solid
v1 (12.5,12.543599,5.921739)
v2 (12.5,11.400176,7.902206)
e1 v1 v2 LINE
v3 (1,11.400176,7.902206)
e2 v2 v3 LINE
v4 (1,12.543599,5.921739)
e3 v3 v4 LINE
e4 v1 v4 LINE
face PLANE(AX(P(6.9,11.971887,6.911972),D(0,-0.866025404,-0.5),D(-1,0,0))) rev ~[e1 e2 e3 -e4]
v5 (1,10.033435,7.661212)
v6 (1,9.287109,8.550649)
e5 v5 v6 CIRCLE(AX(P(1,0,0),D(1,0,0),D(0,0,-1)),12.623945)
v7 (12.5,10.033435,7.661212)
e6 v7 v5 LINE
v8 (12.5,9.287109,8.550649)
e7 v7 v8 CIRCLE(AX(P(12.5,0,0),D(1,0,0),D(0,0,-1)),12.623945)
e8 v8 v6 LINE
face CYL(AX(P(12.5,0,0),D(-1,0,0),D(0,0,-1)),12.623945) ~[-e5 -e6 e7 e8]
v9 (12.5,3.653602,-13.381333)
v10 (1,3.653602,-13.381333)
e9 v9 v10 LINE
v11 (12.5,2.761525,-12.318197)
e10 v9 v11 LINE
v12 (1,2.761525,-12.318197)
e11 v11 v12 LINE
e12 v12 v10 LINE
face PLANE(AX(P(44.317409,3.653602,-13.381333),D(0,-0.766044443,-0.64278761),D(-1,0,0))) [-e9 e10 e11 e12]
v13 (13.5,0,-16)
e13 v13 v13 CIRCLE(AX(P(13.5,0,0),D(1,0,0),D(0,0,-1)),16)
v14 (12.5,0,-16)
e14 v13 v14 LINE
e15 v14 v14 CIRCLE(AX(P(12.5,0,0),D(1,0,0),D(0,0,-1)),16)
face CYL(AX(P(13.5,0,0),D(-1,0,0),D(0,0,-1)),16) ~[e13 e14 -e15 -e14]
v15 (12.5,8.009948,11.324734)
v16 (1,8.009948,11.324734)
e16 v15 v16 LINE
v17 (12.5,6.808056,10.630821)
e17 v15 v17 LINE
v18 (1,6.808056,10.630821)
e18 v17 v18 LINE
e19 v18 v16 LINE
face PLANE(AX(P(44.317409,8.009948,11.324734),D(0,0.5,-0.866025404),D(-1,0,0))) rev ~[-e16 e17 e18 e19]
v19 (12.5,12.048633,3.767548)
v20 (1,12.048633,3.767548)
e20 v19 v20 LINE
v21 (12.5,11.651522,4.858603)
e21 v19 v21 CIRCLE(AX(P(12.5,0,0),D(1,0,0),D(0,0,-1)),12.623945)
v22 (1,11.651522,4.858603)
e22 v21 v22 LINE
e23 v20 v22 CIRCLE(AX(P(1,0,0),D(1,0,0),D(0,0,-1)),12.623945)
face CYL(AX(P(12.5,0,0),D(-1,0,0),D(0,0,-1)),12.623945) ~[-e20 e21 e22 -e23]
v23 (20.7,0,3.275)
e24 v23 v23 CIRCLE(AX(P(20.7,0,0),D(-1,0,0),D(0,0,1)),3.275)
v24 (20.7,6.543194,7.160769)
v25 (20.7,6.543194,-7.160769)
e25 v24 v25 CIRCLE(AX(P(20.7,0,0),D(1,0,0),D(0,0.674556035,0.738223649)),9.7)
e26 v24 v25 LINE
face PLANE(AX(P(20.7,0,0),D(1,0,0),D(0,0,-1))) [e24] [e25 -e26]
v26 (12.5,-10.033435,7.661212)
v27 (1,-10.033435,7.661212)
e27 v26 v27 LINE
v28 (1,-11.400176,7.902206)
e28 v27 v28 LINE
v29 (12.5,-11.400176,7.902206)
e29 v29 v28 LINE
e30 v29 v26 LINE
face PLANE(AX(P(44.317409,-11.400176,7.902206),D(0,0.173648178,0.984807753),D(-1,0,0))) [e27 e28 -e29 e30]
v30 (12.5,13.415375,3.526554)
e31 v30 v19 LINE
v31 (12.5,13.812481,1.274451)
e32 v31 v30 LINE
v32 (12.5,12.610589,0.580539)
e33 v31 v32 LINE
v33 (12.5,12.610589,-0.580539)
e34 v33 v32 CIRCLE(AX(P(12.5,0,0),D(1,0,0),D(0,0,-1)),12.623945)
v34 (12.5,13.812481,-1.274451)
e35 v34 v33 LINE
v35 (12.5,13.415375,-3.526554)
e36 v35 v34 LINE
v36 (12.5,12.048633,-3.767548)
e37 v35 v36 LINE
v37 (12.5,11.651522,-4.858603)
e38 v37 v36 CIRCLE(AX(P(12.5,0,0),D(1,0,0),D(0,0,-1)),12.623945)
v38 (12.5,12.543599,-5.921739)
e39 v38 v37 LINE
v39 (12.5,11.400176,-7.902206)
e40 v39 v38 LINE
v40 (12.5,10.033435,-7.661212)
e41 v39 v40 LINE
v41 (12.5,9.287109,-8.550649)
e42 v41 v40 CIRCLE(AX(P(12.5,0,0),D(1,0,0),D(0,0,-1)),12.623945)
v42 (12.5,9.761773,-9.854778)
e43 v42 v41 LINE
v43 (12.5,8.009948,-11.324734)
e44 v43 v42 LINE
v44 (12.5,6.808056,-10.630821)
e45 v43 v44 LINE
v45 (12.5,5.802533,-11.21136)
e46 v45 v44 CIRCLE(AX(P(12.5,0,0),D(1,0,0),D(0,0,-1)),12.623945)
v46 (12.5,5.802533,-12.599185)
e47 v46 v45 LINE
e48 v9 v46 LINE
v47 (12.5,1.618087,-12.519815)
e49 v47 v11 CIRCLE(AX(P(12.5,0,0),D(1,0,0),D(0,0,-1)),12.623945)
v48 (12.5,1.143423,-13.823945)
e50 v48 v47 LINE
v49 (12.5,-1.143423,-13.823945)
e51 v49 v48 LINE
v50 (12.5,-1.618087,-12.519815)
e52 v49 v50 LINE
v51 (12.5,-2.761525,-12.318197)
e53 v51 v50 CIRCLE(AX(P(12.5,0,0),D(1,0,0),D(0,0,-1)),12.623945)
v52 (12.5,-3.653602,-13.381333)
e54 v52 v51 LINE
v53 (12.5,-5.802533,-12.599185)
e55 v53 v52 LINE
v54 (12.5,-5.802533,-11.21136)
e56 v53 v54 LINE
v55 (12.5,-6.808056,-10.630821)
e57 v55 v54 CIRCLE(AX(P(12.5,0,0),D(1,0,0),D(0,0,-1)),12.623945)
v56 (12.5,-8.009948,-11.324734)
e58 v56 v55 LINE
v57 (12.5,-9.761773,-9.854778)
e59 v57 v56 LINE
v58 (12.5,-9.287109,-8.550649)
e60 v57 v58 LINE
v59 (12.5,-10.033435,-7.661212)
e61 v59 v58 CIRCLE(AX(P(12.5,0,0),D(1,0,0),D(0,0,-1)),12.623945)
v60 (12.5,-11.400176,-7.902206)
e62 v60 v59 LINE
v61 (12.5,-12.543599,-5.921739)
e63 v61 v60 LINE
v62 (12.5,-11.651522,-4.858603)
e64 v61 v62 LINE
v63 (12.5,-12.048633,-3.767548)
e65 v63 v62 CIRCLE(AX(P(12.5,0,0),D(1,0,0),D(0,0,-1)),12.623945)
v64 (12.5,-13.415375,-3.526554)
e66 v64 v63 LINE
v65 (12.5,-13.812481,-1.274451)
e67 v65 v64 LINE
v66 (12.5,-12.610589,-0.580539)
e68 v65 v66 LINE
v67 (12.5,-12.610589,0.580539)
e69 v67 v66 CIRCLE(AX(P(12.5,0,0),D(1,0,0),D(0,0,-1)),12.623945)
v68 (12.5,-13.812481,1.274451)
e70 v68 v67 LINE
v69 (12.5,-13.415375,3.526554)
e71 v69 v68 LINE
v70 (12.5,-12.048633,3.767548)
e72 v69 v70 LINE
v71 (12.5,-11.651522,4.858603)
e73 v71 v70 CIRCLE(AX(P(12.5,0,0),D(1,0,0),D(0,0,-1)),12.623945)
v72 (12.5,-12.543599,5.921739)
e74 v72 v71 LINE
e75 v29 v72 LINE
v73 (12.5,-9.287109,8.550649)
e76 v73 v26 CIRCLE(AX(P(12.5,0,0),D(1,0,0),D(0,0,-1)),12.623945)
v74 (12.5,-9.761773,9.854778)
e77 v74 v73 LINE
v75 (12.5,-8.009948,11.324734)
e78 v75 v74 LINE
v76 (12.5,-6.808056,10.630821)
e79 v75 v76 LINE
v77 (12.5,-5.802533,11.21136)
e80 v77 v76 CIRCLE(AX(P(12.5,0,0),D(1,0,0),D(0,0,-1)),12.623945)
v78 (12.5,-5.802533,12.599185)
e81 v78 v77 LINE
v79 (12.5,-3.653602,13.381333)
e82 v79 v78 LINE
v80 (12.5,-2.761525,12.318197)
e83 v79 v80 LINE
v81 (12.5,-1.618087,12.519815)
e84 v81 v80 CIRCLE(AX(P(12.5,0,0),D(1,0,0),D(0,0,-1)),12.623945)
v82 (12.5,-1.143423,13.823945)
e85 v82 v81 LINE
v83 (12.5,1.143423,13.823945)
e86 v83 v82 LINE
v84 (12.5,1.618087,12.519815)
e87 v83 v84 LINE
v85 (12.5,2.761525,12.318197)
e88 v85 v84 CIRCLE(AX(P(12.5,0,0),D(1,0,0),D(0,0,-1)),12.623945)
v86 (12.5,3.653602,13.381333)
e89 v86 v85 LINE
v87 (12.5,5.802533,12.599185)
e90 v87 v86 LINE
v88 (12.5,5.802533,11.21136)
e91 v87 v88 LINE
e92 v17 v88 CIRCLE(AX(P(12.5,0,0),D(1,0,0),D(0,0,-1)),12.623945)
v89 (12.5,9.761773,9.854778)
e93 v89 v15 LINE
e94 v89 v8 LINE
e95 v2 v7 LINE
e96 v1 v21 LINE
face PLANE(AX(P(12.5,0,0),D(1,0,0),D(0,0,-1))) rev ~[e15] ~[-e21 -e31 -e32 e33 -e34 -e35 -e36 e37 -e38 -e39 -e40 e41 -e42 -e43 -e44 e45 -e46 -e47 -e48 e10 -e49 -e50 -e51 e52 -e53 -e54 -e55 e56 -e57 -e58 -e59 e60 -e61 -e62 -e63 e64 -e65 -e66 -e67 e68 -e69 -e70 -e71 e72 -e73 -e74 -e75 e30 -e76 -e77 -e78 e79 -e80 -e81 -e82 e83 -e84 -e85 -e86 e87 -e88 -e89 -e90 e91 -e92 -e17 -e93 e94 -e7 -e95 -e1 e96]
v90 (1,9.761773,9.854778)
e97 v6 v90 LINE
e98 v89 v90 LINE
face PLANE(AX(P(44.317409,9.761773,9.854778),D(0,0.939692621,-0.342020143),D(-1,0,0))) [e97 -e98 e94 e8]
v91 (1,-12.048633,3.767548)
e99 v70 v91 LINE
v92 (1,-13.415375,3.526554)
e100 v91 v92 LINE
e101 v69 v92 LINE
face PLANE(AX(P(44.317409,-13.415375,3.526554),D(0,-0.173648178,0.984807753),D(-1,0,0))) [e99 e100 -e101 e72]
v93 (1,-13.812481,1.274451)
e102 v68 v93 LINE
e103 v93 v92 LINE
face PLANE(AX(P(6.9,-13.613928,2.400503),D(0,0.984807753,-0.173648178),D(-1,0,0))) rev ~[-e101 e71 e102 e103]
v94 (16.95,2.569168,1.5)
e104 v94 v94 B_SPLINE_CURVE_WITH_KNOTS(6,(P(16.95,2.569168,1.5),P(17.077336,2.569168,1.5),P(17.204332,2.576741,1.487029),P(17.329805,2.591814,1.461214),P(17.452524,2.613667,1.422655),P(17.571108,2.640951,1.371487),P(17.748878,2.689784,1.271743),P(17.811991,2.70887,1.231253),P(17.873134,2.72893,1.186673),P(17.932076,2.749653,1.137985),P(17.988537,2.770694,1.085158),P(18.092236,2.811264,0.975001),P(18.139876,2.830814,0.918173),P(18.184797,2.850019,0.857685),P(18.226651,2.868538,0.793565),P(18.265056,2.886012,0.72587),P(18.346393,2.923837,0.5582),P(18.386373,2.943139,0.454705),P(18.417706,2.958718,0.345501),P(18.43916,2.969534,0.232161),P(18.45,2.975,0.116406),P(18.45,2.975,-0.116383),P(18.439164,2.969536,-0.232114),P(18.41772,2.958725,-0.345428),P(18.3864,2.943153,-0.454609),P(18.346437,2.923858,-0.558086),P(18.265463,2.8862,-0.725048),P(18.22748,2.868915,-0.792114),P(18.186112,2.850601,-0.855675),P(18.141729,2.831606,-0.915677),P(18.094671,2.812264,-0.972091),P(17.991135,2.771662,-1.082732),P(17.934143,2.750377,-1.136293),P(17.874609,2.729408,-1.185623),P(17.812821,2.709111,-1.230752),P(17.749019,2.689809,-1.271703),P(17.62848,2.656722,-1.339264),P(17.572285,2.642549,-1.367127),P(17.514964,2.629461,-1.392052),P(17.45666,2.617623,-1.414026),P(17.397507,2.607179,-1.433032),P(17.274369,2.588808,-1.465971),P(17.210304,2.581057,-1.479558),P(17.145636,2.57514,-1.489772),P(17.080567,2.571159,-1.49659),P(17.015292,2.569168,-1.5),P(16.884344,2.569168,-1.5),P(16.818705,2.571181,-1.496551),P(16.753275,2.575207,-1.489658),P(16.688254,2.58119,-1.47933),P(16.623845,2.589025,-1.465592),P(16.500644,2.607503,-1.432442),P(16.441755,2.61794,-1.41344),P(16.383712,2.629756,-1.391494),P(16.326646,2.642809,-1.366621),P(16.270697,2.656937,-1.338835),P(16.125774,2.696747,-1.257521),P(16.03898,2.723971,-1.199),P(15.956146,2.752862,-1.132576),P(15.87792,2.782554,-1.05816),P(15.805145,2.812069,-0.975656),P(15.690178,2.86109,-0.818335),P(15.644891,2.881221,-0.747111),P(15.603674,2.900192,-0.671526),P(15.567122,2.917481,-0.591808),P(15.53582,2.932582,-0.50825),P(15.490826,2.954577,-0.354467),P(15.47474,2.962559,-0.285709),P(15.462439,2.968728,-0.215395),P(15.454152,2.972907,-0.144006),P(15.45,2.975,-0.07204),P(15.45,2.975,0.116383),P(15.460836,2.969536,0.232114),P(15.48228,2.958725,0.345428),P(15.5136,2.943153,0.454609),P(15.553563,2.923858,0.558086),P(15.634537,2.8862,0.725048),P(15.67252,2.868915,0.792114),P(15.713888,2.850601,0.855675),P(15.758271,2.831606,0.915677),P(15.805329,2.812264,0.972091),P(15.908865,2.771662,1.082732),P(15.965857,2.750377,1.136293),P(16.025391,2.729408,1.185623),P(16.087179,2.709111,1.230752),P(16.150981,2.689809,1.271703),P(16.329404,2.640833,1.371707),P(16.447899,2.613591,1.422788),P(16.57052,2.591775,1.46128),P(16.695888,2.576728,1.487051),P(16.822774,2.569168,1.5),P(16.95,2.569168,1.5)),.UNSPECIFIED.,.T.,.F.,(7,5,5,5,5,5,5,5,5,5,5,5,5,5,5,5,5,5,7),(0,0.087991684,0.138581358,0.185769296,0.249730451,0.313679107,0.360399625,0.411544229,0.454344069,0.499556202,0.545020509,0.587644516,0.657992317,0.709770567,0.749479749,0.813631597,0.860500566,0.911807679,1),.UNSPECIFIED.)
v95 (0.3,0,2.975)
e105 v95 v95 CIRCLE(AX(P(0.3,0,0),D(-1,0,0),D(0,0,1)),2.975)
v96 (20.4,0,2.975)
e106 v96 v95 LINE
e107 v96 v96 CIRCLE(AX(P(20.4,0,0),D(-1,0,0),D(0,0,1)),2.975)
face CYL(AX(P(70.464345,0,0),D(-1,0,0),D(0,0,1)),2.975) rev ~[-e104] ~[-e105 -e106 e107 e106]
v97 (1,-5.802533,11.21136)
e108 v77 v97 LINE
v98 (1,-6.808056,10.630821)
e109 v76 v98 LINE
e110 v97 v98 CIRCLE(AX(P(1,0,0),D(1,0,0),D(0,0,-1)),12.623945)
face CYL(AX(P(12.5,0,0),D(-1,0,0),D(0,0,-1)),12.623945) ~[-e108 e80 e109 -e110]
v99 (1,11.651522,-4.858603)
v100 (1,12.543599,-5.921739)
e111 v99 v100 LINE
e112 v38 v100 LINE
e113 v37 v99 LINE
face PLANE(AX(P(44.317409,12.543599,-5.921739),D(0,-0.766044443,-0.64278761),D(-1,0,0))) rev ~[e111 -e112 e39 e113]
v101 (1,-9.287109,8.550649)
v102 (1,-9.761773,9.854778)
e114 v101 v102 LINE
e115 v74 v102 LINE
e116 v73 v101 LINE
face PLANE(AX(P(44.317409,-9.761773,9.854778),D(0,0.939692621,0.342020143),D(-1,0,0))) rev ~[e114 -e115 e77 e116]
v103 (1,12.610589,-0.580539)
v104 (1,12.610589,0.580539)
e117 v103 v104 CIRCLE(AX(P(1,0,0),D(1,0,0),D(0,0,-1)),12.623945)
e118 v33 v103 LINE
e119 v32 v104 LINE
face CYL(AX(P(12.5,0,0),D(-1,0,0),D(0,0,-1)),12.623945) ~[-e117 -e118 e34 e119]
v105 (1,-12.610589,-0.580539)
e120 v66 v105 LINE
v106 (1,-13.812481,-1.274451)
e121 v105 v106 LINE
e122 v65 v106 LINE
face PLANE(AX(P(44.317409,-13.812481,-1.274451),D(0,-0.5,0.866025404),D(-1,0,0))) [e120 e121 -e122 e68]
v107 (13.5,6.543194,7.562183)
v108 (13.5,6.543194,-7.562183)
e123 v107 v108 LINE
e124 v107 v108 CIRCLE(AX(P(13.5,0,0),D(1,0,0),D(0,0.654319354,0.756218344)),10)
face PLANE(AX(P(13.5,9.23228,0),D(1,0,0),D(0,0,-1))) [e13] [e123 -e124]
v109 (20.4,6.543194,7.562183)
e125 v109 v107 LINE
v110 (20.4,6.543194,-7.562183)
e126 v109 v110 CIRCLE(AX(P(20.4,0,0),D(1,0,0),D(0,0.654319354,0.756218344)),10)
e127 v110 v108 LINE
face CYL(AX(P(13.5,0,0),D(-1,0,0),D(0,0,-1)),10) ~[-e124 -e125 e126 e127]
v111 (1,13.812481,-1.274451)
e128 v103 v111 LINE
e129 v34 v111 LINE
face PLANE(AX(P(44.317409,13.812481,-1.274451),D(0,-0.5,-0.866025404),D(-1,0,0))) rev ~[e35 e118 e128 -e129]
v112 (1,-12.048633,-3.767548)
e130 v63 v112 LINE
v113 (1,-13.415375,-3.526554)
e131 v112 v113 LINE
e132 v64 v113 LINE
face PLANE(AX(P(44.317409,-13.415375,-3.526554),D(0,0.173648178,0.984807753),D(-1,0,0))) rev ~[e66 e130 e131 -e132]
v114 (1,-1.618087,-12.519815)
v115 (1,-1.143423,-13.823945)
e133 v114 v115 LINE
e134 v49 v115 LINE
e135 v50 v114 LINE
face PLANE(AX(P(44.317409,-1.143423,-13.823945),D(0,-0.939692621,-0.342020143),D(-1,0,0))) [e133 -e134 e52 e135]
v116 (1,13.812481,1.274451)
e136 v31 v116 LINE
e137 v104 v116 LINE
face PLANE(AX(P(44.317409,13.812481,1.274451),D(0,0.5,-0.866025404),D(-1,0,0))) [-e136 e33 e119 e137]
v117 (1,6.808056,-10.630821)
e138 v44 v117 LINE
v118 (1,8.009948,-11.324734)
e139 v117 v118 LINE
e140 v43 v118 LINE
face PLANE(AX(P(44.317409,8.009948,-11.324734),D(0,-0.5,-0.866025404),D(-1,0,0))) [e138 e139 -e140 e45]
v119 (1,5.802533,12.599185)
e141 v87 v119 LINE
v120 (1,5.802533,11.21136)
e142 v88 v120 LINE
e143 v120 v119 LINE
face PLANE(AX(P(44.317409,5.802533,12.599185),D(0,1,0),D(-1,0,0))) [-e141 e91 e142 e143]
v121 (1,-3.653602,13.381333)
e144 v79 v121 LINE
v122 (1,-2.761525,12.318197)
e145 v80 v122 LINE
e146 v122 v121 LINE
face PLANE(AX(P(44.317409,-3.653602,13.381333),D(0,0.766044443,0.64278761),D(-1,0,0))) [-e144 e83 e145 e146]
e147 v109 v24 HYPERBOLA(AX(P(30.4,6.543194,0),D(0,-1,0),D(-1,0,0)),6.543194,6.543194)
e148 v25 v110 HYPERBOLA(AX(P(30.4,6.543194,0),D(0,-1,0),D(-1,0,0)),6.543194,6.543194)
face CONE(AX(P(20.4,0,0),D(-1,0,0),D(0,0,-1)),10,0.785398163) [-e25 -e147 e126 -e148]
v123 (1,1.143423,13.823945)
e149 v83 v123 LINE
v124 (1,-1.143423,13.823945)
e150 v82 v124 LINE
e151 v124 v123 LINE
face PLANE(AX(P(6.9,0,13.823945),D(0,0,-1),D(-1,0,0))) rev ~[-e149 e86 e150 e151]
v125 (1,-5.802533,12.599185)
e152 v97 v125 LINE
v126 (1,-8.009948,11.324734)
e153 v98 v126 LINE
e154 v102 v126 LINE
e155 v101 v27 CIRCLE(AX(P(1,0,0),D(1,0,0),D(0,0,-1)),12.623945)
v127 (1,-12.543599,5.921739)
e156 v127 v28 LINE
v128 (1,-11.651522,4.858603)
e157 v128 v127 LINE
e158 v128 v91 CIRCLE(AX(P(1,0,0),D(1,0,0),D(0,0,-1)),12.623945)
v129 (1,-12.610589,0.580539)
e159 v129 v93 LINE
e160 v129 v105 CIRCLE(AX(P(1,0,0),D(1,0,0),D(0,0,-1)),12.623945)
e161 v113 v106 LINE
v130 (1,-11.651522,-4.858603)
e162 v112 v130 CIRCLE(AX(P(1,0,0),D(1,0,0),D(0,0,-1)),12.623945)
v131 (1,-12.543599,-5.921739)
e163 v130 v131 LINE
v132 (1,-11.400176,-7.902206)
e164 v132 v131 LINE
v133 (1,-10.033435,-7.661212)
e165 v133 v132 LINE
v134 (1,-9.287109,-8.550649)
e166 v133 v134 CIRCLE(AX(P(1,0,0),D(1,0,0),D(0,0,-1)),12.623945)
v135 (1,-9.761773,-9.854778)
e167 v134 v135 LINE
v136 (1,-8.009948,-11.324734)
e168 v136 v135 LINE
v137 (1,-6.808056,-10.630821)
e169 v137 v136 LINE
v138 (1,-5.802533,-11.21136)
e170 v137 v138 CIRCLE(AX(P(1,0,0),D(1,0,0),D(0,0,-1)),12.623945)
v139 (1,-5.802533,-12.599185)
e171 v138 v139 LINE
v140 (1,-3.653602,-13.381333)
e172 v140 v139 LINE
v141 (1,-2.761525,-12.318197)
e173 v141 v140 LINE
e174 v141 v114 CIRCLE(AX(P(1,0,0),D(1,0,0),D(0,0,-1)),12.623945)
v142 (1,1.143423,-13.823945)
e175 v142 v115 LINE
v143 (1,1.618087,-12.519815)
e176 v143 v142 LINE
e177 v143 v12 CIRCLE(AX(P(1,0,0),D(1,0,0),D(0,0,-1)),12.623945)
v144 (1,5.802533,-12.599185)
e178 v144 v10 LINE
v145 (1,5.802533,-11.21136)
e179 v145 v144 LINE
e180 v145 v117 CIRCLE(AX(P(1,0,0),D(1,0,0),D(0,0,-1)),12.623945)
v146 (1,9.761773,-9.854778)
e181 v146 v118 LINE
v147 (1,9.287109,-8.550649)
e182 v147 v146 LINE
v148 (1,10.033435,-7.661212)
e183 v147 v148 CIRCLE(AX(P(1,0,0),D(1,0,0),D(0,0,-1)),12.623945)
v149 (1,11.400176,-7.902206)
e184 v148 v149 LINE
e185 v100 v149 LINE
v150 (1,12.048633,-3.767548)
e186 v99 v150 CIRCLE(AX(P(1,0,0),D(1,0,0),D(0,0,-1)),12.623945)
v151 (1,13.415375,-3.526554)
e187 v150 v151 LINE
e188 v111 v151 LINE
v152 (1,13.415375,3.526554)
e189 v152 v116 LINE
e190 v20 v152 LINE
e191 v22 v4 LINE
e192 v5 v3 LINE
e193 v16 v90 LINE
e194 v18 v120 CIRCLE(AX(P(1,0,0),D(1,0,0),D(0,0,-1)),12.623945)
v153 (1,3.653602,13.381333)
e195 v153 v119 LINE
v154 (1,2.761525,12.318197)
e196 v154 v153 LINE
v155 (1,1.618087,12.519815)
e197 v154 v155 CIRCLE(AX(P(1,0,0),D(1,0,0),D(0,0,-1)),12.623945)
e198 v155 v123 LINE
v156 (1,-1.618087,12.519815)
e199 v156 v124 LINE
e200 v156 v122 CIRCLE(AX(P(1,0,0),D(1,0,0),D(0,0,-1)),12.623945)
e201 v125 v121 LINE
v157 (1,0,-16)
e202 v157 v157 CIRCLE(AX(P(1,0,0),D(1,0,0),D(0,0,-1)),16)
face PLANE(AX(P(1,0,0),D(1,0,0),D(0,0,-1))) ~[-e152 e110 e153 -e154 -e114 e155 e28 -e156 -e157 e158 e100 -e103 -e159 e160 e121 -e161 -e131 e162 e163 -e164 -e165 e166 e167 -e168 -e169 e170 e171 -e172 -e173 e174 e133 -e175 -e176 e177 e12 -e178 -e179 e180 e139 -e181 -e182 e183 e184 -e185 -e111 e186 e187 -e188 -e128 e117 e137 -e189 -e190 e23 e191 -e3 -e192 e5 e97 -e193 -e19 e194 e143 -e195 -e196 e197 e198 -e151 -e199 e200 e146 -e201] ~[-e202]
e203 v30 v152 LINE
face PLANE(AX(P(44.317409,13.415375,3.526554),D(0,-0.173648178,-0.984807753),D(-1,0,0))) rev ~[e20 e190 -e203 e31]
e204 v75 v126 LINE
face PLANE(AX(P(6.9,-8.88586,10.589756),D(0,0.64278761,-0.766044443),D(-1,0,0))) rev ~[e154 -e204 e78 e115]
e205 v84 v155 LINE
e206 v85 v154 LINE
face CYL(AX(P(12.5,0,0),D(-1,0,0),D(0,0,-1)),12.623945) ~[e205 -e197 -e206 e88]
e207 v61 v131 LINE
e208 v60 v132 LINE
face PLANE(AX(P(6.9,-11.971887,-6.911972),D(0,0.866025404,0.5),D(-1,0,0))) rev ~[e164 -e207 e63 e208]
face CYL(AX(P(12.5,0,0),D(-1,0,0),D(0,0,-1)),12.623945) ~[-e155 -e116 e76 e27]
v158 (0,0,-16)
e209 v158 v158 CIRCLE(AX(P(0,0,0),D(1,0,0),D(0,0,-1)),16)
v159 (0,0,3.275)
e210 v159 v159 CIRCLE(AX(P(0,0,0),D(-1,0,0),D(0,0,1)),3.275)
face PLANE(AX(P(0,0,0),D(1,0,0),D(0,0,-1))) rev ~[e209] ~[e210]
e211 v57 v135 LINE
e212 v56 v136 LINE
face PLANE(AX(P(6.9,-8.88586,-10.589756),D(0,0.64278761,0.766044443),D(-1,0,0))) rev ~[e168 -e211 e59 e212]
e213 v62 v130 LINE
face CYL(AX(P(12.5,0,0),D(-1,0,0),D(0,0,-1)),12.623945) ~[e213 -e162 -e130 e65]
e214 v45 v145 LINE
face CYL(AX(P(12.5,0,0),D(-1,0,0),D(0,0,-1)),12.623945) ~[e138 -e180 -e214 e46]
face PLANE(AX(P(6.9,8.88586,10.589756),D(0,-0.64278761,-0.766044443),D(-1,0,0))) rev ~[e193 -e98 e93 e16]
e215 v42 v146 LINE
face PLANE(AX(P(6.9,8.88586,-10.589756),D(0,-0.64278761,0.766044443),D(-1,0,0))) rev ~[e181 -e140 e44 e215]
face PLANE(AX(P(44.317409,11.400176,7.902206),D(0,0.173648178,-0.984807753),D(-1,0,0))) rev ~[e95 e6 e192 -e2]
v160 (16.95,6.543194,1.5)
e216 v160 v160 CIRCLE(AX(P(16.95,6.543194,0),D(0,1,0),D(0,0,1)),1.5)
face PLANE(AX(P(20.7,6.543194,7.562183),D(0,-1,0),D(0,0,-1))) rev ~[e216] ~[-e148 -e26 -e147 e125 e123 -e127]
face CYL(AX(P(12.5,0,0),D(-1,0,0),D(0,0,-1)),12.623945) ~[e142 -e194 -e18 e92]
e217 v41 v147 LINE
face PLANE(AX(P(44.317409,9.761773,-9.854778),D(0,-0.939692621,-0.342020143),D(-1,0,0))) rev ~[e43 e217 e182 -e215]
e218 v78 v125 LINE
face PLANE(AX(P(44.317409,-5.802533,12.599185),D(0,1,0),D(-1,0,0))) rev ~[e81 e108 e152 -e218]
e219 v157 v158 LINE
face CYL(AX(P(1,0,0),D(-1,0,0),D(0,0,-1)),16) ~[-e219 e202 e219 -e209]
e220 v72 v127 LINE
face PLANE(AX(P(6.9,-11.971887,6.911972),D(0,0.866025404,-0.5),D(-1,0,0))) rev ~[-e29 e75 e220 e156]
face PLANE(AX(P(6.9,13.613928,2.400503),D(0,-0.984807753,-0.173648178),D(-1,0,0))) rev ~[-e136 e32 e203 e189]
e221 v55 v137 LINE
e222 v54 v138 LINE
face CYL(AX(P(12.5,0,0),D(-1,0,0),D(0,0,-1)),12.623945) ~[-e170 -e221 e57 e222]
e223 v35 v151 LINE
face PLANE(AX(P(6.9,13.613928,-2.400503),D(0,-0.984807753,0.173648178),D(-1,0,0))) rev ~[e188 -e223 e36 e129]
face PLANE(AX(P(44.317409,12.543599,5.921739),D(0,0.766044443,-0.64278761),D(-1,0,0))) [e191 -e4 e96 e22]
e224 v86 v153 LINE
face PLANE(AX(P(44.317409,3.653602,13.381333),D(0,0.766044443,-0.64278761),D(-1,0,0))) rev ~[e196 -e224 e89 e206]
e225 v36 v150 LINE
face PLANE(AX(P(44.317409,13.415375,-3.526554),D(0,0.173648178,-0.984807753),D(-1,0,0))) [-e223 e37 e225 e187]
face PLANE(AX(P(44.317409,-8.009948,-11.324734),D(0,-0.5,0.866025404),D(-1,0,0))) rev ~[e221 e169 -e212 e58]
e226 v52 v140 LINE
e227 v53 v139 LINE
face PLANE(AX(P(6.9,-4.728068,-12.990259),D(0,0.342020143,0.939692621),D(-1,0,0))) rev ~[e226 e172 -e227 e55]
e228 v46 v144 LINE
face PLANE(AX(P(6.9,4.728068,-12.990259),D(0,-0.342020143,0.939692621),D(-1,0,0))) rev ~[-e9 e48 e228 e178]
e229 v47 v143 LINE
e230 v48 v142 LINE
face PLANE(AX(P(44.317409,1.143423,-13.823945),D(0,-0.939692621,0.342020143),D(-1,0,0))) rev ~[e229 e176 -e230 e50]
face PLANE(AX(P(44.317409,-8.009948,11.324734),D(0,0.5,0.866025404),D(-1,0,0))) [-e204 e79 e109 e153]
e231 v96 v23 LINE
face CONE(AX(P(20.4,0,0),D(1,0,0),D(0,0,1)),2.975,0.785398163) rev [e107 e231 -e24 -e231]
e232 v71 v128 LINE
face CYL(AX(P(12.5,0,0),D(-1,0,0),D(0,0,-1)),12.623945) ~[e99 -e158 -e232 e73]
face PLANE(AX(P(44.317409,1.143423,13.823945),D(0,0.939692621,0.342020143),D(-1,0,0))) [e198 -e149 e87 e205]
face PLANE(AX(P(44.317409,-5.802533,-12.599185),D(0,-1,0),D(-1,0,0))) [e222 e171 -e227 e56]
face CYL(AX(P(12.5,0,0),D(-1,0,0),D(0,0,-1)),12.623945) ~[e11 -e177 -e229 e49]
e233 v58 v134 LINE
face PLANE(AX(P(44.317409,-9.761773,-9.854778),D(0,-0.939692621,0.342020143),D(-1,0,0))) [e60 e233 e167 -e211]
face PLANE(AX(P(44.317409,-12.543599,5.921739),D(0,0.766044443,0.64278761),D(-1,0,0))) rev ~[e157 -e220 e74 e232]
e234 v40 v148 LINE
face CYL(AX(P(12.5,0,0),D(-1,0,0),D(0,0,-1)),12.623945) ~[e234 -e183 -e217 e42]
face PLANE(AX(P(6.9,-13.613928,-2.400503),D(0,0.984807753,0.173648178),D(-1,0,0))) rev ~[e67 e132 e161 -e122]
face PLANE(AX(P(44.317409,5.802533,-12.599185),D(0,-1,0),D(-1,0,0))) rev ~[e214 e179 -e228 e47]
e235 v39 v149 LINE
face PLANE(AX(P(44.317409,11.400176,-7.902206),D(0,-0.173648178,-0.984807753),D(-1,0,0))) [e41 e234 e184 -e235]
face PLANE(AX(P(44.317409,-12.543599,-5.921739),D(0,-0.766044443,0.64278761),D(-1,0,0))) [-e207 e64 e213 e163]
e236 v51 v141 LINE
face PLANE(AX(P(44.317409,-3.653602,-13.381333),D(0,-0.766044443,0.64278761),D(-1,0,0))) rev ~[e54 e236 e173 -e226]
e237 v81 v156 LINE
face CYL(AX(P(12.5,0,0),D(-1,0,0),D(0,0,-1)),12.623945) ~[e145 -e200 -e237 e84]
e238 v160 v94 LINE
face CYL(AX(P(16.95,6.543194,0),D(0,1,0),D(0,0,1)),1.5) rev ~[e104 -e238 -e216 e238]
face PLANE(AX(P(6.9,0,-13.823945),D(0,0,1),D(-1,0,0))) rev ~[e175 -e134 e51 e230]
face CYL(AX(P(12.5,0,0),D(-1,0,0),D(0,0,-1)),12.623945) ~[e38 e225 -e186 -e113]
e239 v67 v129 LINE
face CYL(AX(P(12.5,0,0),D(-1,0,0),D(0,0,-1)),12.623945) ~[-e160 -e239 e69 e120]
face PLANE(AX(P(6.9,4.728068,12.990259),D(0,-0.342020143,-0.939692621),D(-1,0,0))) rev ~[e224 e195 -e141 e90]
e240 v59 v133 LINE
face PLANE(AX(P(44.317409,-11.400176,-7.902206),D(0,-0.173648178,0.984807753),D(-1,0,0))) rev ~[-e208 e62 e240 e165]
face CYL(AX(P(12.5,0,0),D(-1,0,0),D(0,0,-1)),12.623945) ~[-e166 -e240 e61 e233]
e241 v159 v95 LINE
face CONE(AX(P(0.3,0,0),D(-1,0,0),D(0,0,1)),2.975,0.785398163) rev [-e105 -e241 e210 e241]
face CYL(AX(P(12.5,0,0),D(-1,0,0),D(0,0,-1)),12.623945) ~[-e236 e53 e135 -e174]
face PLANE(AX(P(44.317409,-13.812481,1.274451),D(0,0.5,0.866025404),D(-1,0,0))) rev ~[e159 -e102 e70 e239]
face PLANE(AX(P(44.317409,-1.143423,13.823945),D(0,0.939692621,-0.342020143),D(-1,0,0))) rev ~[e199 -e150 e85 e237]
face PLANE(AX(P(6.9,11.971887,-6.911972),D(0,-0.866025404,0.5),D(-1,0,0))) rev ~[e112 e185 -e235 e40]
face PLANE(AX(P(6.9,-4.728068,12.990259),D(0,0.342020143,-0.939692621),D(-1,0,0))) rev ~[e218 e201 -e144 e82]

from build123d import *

# Parameters (mm, degrees)
SKETCH2_R                = 10
BOSS_EXTRUDE1_DEPTH      = 7.2
F_6_0_6_DIAMETER_HOLE1_D = 5.95
RIB1_REACH               = 32.667
SKETCH5_WALL_W           = 74.834818822
SKETCH5_WALL_H           = 2.286845356
RIB1_DRAFT_ANGLE         = 20
RIB2_REACH               = 32.667
SKETCH6_WALL_W           = 74.834818822
SKETCH6_WALL_H           = 2.286845356
RIB2_DRAFT_ANGLE         = 20
RIB3_REACH               = 32.667
SKETCH7_WALL_W           = 74.834818822
SKETCH7_WALL_H           = 2.286845356
RIB3_DRAFT_ANGLE         = 20
RIB4_REACH               = 32.667
SKETCH8_WALL_W           = 74.834818822
SKETCH8_WALL_H           = 2.286845356
RIB4_DRAFT_ANGLE         = 20
RIB5_REACH               = 32.667
SKETCH9_WALL_W           = 74.834818822
SKETCH9_WALL_H           = 2.286845356
RIB5_DRAFT_ANGLE         = 20
RIB6_REACH               = 32.667
SKETCH10_WALL_W          = 74.834818822
SKETCH10_WALL_H          = 2.286845356
RIB6_DRAFT_ANGLE         = 20
RIB7_REACH               = 32.667
SKETCH11_WALL_W          = 74.834818822
SKETCH11_WALL_H          = 2.286845356
RIB7_DRAFT_ANGLE         = 20
RIB8_REACH               = 32.667
SKETCH12_WALL_W          = 74.834818822
SKETCH12_WALL_H          = 2.286845356
RIB8_DRAFT_ANGLE         = 20
RIB9_REACH               = 32.667
SKETCH13_WALL_W          = 74.834818822
SKETCH13_WALL_H          = 2.286845356
RIB9_DRAFT_ANGLE         = 20
RIB10_REACH              = 32.667
SKETCH14_WALL_W          = 74.834818822
SKETCH14_WALL_H          = 2.286845356
RIB10_DRAFT_ANGLE        = 20
RIB11_REACH              = 32.667
SKETCH15_WALL_W          = 74.834818822
SKETCH15_WALL_H          = 2.286845356
RIB11_DRAFT_ANGLE        = 20
RIB12_REACH              = 32.667
SKETCH16_WALL_W          = 74.834818822
SKETCH16_WALL_H          = 2.286845356
RIB12_DRAFT_ANGLE        = 20
RIB13_REACH              = 32.667
SKETCH17_WALL_W          = 74.834818822
SKETCH17_WALL_H          = 2.286845356
RIB13_DRAFT_ANGLE        = 20
RIB14_REACH              = 32.667
SKETCH18_WALL_W          = 74.834818822
SKETCH18_WALL_H          = 2.286845356
RIB14_DRAFT_ANGLE        = 20
RIB15_REACH              = 32.667
SKETCH19_WALL_W          = 74.834818822
SKETCH19_WALL_H          = 2.286845356
RIB15_DRAFT_ANGLE        = 20
RIB16_REACH              = 32.667
SKETCH20_WALL_W          = 74.834818822
SKETCH20_WALL_H          = 2.286845356
RIB16_DRAFT_ANGLE        = 20
RIB17_REACH              = 32.667
SKETCH21_WALL_W          = 74.834818822
SKETCH21_WALL_H          = 2.286845356
RIB17_DRAFT_ANGLE        = 20
RIB18_REACH              = 32.667
SKETCH22_WALL_W          = 74.834818822
SKETCH22_WALL_H          = 2.286845356
RIB18_DRAFT_ANGLE        = 20
CHAMFER1_SIZE            = 0.3
SKETCH23_W               = 15.124366872
SKETCH23_H               = 5.378173842
CUT_EXTRUDE2_DEPTH       = 7.2
SKETCH24_R               = 1.5
CUT_EXTRUDE3_DEPTH       = 7.2


with BuildPart() as part:
    # Sketch1 → Revolve1 (revolve)
    with BuildSketch(Plane.XY, mode=Mode.PRIVATE) as revolve1_sk:
        Polygon((0, 16), (0, 0), (13.5, 0), (13.5, 16), (12.5, 16), (12.5, 13.9), (12.5, 12.623944878), (1, 12.623944878), (1, 13.9), (1, 16), align=None)
    revolve(revolve1_sk.sketch.rotate(Axis((0, 0, 0), (1, 0, 0)), 270), axis=Axis((0, 0, 0), (1, 0, 0)))

    # Sketch2 → Boss-Extrude1 (add)
    with BuildSketch(Plane(origin=(13.5, 0, 0), x_dir=(0, 0, -1), z_dir=(1, 0, 0))):
        Circle(SKETCH2_R)
    extrude(amount=BOSS_EXTRUDE1_DEPTH)

    # Ø6.0 (6) Diameter Hole1 (through all)
    with Locations(Plane(origin=(20.7, 0, 0), x_dir=(0, 0, -1), z_dir=(1, 0, 0))):
        with Locations((0, 0)):
            Hole(F_6_0_6_DIAMETER_HOLE1_D / 2)

    # Sketch5 wall → Rib1 (add, up to next)
    with BuildSketch(Plane(origin=(6.9, 0, 13.823944878), x_dir=(-1, 0, 0), z_dir=(0, 0, -1)), mode=Mode.PRIVATE) as rib1_sk1:
        Rectangle(SKETCH5_WALL_W, SKETCH5_WALL_H)
    rib1_tool1 = extrude(rib1_sk1.sketch, amount=RIB1_REACH, mode=Mode.PRIVATE) - part.part
    add(rib1_tool1.solids().sort_by_distance((6.9, 0, 13.823944878))[0])

    # Rib1 draft
    rib1_draft_faces = [part.faces().sort_by_distance(p)[0] for p in [
        (6.9, 1.143422678, 13.323944878),
        (6.9, -1.143422678, 13.323944878),
    ]]
    draft(rib1_draft_faces, Plane(origin=(6.9, 0, 13.823944878), x_dir=(-1, 0, 0), z_dir=(0, 0, 1)), RIB1_DRAFT_ANGLE)

    # Sketch6 wall → Rib2 (add, up to next)
    with BuildSketch(Plane(origin=(6.9, 0, -13.823944878), x_dir=(-1, 0, 0), z_dir=(0, 0, 1)), mode=Mode.PRIVATE) as rib2_sk1:
        Rectangle(SKETCH6_WALL_W, SKETCH6_WALL_H)
    rib2_tool1 = extrude(rib2_sk1.sketch, amount=RIB2_REACH, mode=Mode.PRIVATE) - part.part
    add(rib2_tool1.solids().sort_by_distance((6.9, 0, -13.823944878))[0])

    # Rib2 draft
    rib2_draft_faces = [part.faces().sort_by_distance(p)[0] for p in [
        (6.9, -1.143422678, -13.323944878),
        (6.9, 1.143422678, -13.323944878),
    ]]
    draft(rib2_draft_faces, Plane(origin=(6.9, 0, -13.823944878), x_dir=(-1, 0, 0), z_dir=(0, 0, -1)), RIB2_DRAFT_ANGLE)

    # Sketch7 wall → Rib3 (add, up to next)
    with BuildSketch(Plane(origin=(6.9, -11.971887445, -6.911972439), x_dir=(-1, 0, 0), z_dir=(0, 0.866025403784, 0.5)), mode=Mode.PRIVATE) as rib3_sk1:
        Rectangle(SKETCH7_WALL_W, SKETCH7_WALL_H)
    rib3_tool1 = extrude(rib3_sk1.sketch, amount=RIB3_REACH, mode=Mode.PRIVATE) - part.part
    add(rib3_tool1.solids().sort_by_distance((6.9, -11.971887445, -6.911972439))[0])

    # Rib3 draft
    rib3_draft_faces = [part.faces().sort_by_distance(p)[0] for p in [
        (6.9, -12.110586082, -5.671739353),
        (6.9, -10.967163404, -7.652205525),
    ]]
    draft(rib3_draft_faces, Plane(origin=(6.9, -11.971887445, -6.911972439), x_dir=(-1, 0, 0), z_dir=(0, -0.866025403784, -0.5)), RIB3_DRAFT_ANGLE)

    # Sketch8 wall → Rib4 (add, up to next)
    with BuildSketch(Plane(origin=(6.9, 4.728067609, -12.990258992), x_dir=(-1, 0, 0), z_dir=(0, -0.342020143326, 0.939692620786)), mode=Mode.PRIVATE) as rib4_sk1:
        Rectangle(SKETCH8_WALL_W, SKETCH8_WALL_H)
    rib4_tool1 = extrude(rib4_sk1.sketch, amount=RIB4_REACH, mode=Mode.PRIVATE) - part.part
    add(rib4_tool1.solids().sort_by_distance((6.9, 4.728067609, -12.990258992))[0])

    # Rib4 draft
    rib4_draft_faces = [part.faces().sort_by_distance(p)[0] for p in [
        (6.9, 3.482591685, -12.91148627),
        (6.9, 5.63152339, -12.129339093),
    ]]
    draft(rib4_draft_faces, Plane(origin=(6.9, 4.728067609, -12.990258992), x_dir=(-1, 0, 0), z_dir=(0, 0.342020143326, -0.939692620786)), RIB4_DRAFT_ANGLE)

    # Sketch9 wall → Rib5 (add, up to next)
    with BuildSketch(Plane(origin=(6.9, -4.728067609, 12.990258992), x_dir=(-1, 0, 0), z_dir=(0, 0.342020143326, -0.939692620786)), mode=Mode.PRIVATE) as rib5_sk1:
        Rectangle(SKETCH9_WALL_W, SKETCH9_WALL_H)
    rib5_tool1 = extrude(rib5_sk1.sketch, amount=RIB5_REACH, mode=Mode.PRIVATE) - part.part
    add(rib5_tool1.solids().sort_by_distance((6.9, -4.728067609, 12.990258992))[0])

    # Rib5 draft
    rib5_draft_faces = [part.faces().sort_by_distance(p)[0] for p in [
        (6.9, -3.482591685, 12.91148627),
        (6.9, -5.63152339, 12.129339093),
    ]]
    draft(rib5_draft_faces, Plane(origin=(6.9, -4.728067609, 12.990258992), x_dir=(-1, 0, 0), z_dir=(0, -0.342020143326, 0.939692620786)), RIB5_DRAFT_ANGLE)

    # Sketch10 wall → Rib6 (add, up to next)
    with BuildSketch(Plane(origin=(6.9, -13.613928093, 2.400502836), x_dir=(-1, 0, 0), z_dir=(0, 0.984807753012, -0.173648177667)), mode=Mode.PRIVATE) as rib6_sk1:
        Rectangle(SKETCH10_WALL_W, SKETCH10_WALL_H)
    rib6_tool1 = extrude(rib6_sk1.sketch, amount=RIB6_REACH, mode=Mode.PRIVATE) - part.part
    add(rib6_tool1.solids().sort_by_distance((6.9, -13.613928093, 2.400502836))[0])

    # Rib6 draft
    rib6_draft_faces = [part.faces().sort_by_distance(p)[0] for p in [
        (6.9, -12.922970952, 3.439730265),
        (6.9, -13.320077481, 1.187627229),
    ]]
    draft(rib6_draft_faces, Plane(origin=(6.9, -13.613928093, 2.400502836), x_dir=(-1, 0, 0), z_dir=(0, -0.984807753012, 0.173648177667)), RIB6_DRAFT_ANGLE)

    # Sketch11 wall → Rib7 (add, up to next)
    with BuildSketch(Plane(origin=(6.9, 13.613928093, 2.400502836), x_dir=(-1, 0, 0), z_dir=(0, -0.984807753012, -0.173648177667)), mode=Mode.PRIVATE) as rib7_sk1:
        Rectangle(SKETCH11_WALL_W, SKETCH11_WALL_H)
    rib7_tool1 = extrude(rib7_sk1.sketch, amount=RIB7_REACH, mode=Mode.PRIVATE) - part.part
    add(rib7_tool1.solids().sort_by_distance((6.9, 13.613928093, 2.400502836))[0])

    # Rib7 draft
    rib7_draft_faces = [part.faces().sort_by_distance(p)[0] for p in [
        (6.9, 13.320077481, 1.187627229),
        (6.9, 12.922970952, 3.439730265),
    ]]
    draft(rib7_draft_faces, Plane(origin=(6.9, 13.613928093, 2.400502836), x_dir=(-1, 0, 0), z_dir=(0, 0.984807753012, 0.173648177667)), RIB7_DRAFT_ANGLE)

    # Sketch12 wall → Rib8 (add, up to next)
    with BuildSketch(Plane(origin=(6.9, -13.613928093, -2.400502836), x_dir=(-1, 0, 0), z_dir=(0, 0.984807753012, 0.173648177667)), mode=Mode.PRIVATE) as rib8_sk1:
        Rectangle(SKETCH12_WALL_W, SKETCH12_WALL_H)
    rib8_tool1 = extrude(rib8_sk1.sketch, amount=RIB8_REACH, mode=Mode.PRIVATE) - part.part
    add(rib8_tool1.solids().sort_by_distance((6.9, -13.613928093, -2.400502836))[0])

    # Rib8 draft
    rib8_draft_faces = [part.faces().sort_by_distance(p)[0] for p in [
        (6.9, -13.320077481, -1.187627229),
        (6.9, -12.922970952, -3.439730265),
    ]]
    draft(rib8_draft_faces, Plane(origin=(6.9, -13.613928093, -2.400502836), x_dir=(-1, 0, 0), z_dir=(0, -0.984807753012, -0.173648177667)), RIB8_DRAFT_ANGLE)

    # Sketch13 wall → Rib9 (add, up to next)
    with BuildSketch(Plane(origin=(6.9, 11.971887445, -6.911972439), x_dir=(-1, 0, 0), z_dir=(0, -0.866025403784, 0.5)), mode=Mode.PRIVATE) as rib9_sk1:
        Rectangle(SKETCH13_WALL_W, SKETCH13_WALL_H)
    rib9_tool1 = extrude(rib9_sk1.sketch, amount=RIB9_REACH, mode=Mode.PRIVATE) - part.part
    add(rib9_tool1.solids().sort_by_distance((6.9, 11.971887445, -6.911972439))[0])

    # Rib9 draft
    rib9_draft_faces = [part.faces().sort_by_distance(p)[0] for p in [
        (6.9, 10.967163404, -7.652205525),
        (6.9, 12.110586082, -5.671739353),
    ]]
    draft(rib9_draft_faces, Plane(origin=(6.9, 11.971887445, -6.911972439), x_dir=(-1, 0, 0), z_dir=(0, 0.866025403784, -0.5)), RIB9_DRAFT_ANGLE)

    # Sketch14 wall → Rib10 (add, up to next)
    with BuildSketch(Plane(origin=(6.9, -4.728067609, -12.990258992), x_dir=(-1, 0, 0), z_dir=(0, 0.342020143326, 0.939692620786)), mode=Mode.PRIVATE) as rib10_sk1:
        Rectangle(SKETCH14_WALL_W, SKETCH14_WALL_H)
    rib10_tool1 = extrude(rib10_sk1.sketch, amount=RIB10_REACH, mode=Mode.PRIVATE) - part.part
    add(rib10_tool1.solids().sort_by_distance((6.9, -4.728067609, -12.990258992))[0])

    # Rib10 draft
    rib10_draft_faces = [part.faces().sort_by_distance(p)[0] for p in [
        (6.9, -5.63152339, -12.129339093),
        (6.9, -3.482591685, -12.91148627),
    ]]
    draft(rib10_draft_faces, Plane(origin=(6.9, -4.728067609, -12.990258992), x_dir=(-1, 0, 0), z_dir=(0, -0.342020143326, -0.939692620786)), RIB10_DRAFT_ANGLE)

    # Sketch15 wall → Rib11 (add, up to next)
    with BuildSketch(Plane(origin=(6.9, 13.613928093, -2.400502836), x_dir=(-1, 0, 0), z_dir=(0, -0.984807753012, 0.173648177667)), mode=Mode.PRIVATE) as rib11_sk1:
        Rectangle(SKETCH15_WALL_W, SKETCH15_WALL_H)
    rib11_tool1 = extrude(rib11_sk1.sketch, amount=RIB11_REACH, mode=Mode.PRIVATE) - part.part
    add(rib11_tool1.solids().sort_by_distance((6.9, 13.613928093, -2.400502836))[0])

    # Rib11 draft
    rib11_draft_faces = [part.faces().sort_by_distance(p)[0] for p in [
        (6.9, 12.922970952, -3.439730265),
        (6.9, 13.320077481, -1.187627229),
    ]]
    draft(rib11_draft_faces, Plane(origin=(6.9, 13.613928093, -2.400502836), x_dir=(-1, 0, 0), z_dir=(0, 0.984807753012, -0.173648177667)), RIB11_DRAFT_ANGLE)

    # Sketch16 wall → Rib12 (add, up to next)
    with BuildSketch(Plane(origin=(6.9, -8.885860485, 10.589756156), x_dir=(-1, 0, 0), z_dir=(0, 0.642787609687, -0.766044443119)), mode=Mode.PRIVATE) as rib12_sk1:
        Rectangle(SKETCH16_WALL_W, SKETCH16_WALL_H)
    rib12_tool1 = extrude(rib12_sk1.sketch, amount=RIB12_REACH, mode=Mode.PRIVATE) - part.part
    add(rib12_tool1.solids().sort_by_distance((6.9, -8.885860485, 10.589756156))[0])

    # Rib12 draft
    rib12_draft_faces = [part.faces().sort_by_distance(p)[0] for p in [
        (6.9, -7.688554092, 10.941711864),
        (6.9, -9.440379269, 9.471756004),
    ]]
    draft(rib12_draft_faces, Plane(origin=(6.9, -8.885860485, 10.589756156), x_dir=(-1, 0, 0), z_dir=(0, -0.642787609687, 0.766044443119)), RIB12_DRAFT_ANGLE)

    # Sketch17 wall → Rib13 (add, up to next)
    with BuildSketch(Plane(origin=(6.9, 4.728067609, 12.990258992), x_dir=(-1, 0, 0), z_dir=(0, -0.342020143326, -0.939692620786)), mode=Mode.PRIVATE) as rib13_sk1:
        Rectangle(SKETCH17_WALL_W, SKETCH17_WALL_H)
    rib13_tool1 = extrude(rib13_sk1.sketch, amount=RIB13_REACH, mode=Mode.PRIVATE) - part.part
    add(rib13_tool1.solids().sort_by_distance((6.9, 4.728067609, 12.990258992))[0])

    # Rib13 draft
    rib13_draft_faces = [part.faces().sort_by_distance(p)[0] for p in [
        (6.9, 5.63152339, 12.129339093),
        (6.9, 3.482591685, 12.91148627),
    ]]
    draft(rib13_draft_faces, Plane(origin=(6.9, 4.728067609, 12.990258992), x_dir=(-1, 0, 0), z_dir=(0, 0.342020143326, 0.939692620786)), RIB13_DRAFT_ANGLE)

    # Sketch18 wall → Rib14 (add, up to next)
    with BuildSketch(Plane(origin=(6.9, 8.885860485, 10.589756156), x_dir=(-1, 0, 0), z_dir=(0, -0.642787609687, -0.766044443119)), mode=Mode.PRIVATE) as rib14_sk1:
        Rectangle(SKETCH18_WALL_W, SKETCH18_WALL_H)
    rib14_tool1 = extrude(rib14_sk1.sketch, amount=RIB14_REACH, mode=Mode.PRIVATE) - part.part
    add(rib14_tool1.solids().sort_by_distance((6.9, 8.885860485, 10.589756156))[0])

    # Rib14 draft
    rib14_draft_faces = [part.faces().sort_by_distance(p)[0] for p in [
        (6.9, 9.440379269, 9.471756004),
        (6.9, 7.688554092, 10.941711864),
    ]]
    draft(rib14_draft_faces, Plane(origin=(6.9, 8.885860485, 10.589756156), x_dir=(-1, 0, 0), z_dir=(0, 0.642787609687, 0.766044443119)), RIB14_DRAFT_ANGLE)

    # Sketch19 wall → Rib15 (add, up to next)
    with BuildSketch(Plane(origin=(6.9, -11.971887445, 6.911972439), x_dir=(-1, 0, 0), z_dir=(0, 0.866025403784, -0.5)), mode=Mode.PRIVATE) as rib15_sk1:
        Rectangle(SKETCH19_WALL_W, SKETCH19_WALL_H)
    rib15_tool1 = extrude(rib15_sk1.sketch, amount=RIB15_REACH, mode=Mode.PRIVATE) - part.part
    add(rib15_tool1.solids().sort_by_distance((6.9, -11.971887445, 6.911972439))[0])

    # Rib15 draft
    rib15_draft_faces = [part.faces().sort_by_distance(p)[0] for p in [
        (6.9, -10.967163404, 7.652205525),
        (6.9, -12.110586082, 5.671739353),
    ]]
    draft(rib15_draft_faces, Plane(origin=(6.9, -11.971887445, 6.911972439), x_dir=(-1, 0, 0), z_dir=(0, -0.866025403784, 0.5)), RIB15_DRAFT_ANGLE)

    # Sketch20 wall → Rib16 (add, up to next)
    with BuildSketch(Plane(origin=(6.9, 11.971887445, 6.911972439), x_dir=(-1, 0, 0), z_dir=(0, -0.866025403784, -0.5)), mode=Mode.PRIVATE) as rib16_sk1:
        Rectangle(SKETCH20_WALL_W, SKETCH20_WALL_H)
    rib16_tool1 = extrude(rib16_sk1.sketch, amount=RIB16_REACH, mode=Mode.PRIVATE) - part.part
    add(rib16_tool1.solids().sort_by_distance((6.9, 11.971887445, 6.911972439))[0])

    # Rib16 draft
    rib16_draft_faces = [part.faces().sort_by_distance(p)[0] for p in [
        (6.9, 12.110586082, 5.671739353),
        (6.9, 10.967163404, 7.652205525),
    ]]
    draft(rib16_draft_faces, Plane(origin=(6.9, 11.971887445, 6.911972439), x_dir=(-1, 0, 0), z_dir=(0, 0.866025403784, 0.5)), RIB16_DRAFT_ANGLE)

    # Sketch21 wall → Rib17 (add, up to next)
    with BuildSketch(Plane(origin=(6.9, 8.885860485, -10.589756156), x_dir=(-1, 0, 0), z_dir=(0, -0.642787609687, 0.766044443119)), mode=Mode.PRIVATE) as rib17_sk1:
        Rectangle(SKETCH21_WALL_W, SKETCH21_WALL_H)
    rib17_tool1 = extrude(rib17_sk1.sketch, amount=RIB17_REACH, mode=Mode.PRIVATE) - part.part
    add(rib17_tool1.solids().sort_by_distance((6.9, 8.885860485, -10.589756156))[0])

    # Rib17 draft
    rib17_draft_faces = [part.faces().sort_by_distance(p)[0] for p in [
        (6.9, 7.688554092, -10.941711864),
        (6.9, 9.440379269, -9.471756004),
    ]]
    draft(rib17_draft_faces, Plane(origin=(6.9, 8.885860485, -10.589756156), x_dir=(-1, 0, 0), z_dir=(0, 0.642787609687, -0.766044443119)), RIB17_DRAFT_ANGLE)

    # Sketch22 wall → Rib18 (add, up to next)
    with BuildSketch(Plane(origin=(6.9, -8.885860485, -10.589756156), x_dir=(-1, 0, 0), z_dir=(0, 0.642787609687, 0.766044443119)), mode=Mode.PRIVATE) as rib18_sk1:
        Rectangle(SKETCH22_WALL_W, SKETCH22_WALL_H)
    rib18_tool1 = extrude(rib18_sk1.sketch, amount=RIB18_REACH, mode=Mode.PRIVATE) - part.part
    add(rib18_tool1.solids().sort_by_distance((6.9, -8.885860485, -10.589756156))[0])

    # Rib18 draft
    rib18_draft_faces = [part.faces().sort_by_distance(p)[0] for p in [
        (6.9, -9.440379269, -9.471756004),
        (6.9, -7.688554092, -10.941711864),
    ]]
    draft(rib18_draft_faces, Plane(origin=(6.9, -8.885860485, -10.589756156), x_dir=(-1, 0, 0), z_dir=(0, -0.642787609687, -0.766044443119)), RIB18_DRAFT_ANGLE)

    # Chamfer1
    chamfer1_edges = [part.edges().sort_by_distance(p)[0] for p in [
        (20.7, 0, 10),
        (20.7, 0, -2.975),
        (0, 0, -2.975),
    ]]
    chamfer(chamfer1_edges, length=CHAMFER1_SIZE)

    # Sketch23 → Cut-Extrude2 (cut)
    with BuildSketch(Plane(origin=(20.7, 0, 0), x_dir=(0, 0, -1), z_dir=(1, 0, 0))):
        with Locations((0, 9.232280459)):
            Rectangle(SKETCH23_W, SKETCH23_H)
    extrude(amount=-CUT_EXTRUDE2_DEPTH, mode=Mode.SUBTRACT)

    # Sketch24 → Cut-Extrude3 (cut)
    with BuildSketch(Plane(origin=(0, 6.543193538, 0), x_dir=(1, 0, 0), z_dir=(0, 1, 0))):
        with Locations(Location((16.95, 0, 0), (0, 0, 270))):
            Circle(SKETCH24_R)
    extrude(amount=-CUT_EXTRUDE3_DEPTH, mode=Mode.SUBTRACT)


solid = part.part
